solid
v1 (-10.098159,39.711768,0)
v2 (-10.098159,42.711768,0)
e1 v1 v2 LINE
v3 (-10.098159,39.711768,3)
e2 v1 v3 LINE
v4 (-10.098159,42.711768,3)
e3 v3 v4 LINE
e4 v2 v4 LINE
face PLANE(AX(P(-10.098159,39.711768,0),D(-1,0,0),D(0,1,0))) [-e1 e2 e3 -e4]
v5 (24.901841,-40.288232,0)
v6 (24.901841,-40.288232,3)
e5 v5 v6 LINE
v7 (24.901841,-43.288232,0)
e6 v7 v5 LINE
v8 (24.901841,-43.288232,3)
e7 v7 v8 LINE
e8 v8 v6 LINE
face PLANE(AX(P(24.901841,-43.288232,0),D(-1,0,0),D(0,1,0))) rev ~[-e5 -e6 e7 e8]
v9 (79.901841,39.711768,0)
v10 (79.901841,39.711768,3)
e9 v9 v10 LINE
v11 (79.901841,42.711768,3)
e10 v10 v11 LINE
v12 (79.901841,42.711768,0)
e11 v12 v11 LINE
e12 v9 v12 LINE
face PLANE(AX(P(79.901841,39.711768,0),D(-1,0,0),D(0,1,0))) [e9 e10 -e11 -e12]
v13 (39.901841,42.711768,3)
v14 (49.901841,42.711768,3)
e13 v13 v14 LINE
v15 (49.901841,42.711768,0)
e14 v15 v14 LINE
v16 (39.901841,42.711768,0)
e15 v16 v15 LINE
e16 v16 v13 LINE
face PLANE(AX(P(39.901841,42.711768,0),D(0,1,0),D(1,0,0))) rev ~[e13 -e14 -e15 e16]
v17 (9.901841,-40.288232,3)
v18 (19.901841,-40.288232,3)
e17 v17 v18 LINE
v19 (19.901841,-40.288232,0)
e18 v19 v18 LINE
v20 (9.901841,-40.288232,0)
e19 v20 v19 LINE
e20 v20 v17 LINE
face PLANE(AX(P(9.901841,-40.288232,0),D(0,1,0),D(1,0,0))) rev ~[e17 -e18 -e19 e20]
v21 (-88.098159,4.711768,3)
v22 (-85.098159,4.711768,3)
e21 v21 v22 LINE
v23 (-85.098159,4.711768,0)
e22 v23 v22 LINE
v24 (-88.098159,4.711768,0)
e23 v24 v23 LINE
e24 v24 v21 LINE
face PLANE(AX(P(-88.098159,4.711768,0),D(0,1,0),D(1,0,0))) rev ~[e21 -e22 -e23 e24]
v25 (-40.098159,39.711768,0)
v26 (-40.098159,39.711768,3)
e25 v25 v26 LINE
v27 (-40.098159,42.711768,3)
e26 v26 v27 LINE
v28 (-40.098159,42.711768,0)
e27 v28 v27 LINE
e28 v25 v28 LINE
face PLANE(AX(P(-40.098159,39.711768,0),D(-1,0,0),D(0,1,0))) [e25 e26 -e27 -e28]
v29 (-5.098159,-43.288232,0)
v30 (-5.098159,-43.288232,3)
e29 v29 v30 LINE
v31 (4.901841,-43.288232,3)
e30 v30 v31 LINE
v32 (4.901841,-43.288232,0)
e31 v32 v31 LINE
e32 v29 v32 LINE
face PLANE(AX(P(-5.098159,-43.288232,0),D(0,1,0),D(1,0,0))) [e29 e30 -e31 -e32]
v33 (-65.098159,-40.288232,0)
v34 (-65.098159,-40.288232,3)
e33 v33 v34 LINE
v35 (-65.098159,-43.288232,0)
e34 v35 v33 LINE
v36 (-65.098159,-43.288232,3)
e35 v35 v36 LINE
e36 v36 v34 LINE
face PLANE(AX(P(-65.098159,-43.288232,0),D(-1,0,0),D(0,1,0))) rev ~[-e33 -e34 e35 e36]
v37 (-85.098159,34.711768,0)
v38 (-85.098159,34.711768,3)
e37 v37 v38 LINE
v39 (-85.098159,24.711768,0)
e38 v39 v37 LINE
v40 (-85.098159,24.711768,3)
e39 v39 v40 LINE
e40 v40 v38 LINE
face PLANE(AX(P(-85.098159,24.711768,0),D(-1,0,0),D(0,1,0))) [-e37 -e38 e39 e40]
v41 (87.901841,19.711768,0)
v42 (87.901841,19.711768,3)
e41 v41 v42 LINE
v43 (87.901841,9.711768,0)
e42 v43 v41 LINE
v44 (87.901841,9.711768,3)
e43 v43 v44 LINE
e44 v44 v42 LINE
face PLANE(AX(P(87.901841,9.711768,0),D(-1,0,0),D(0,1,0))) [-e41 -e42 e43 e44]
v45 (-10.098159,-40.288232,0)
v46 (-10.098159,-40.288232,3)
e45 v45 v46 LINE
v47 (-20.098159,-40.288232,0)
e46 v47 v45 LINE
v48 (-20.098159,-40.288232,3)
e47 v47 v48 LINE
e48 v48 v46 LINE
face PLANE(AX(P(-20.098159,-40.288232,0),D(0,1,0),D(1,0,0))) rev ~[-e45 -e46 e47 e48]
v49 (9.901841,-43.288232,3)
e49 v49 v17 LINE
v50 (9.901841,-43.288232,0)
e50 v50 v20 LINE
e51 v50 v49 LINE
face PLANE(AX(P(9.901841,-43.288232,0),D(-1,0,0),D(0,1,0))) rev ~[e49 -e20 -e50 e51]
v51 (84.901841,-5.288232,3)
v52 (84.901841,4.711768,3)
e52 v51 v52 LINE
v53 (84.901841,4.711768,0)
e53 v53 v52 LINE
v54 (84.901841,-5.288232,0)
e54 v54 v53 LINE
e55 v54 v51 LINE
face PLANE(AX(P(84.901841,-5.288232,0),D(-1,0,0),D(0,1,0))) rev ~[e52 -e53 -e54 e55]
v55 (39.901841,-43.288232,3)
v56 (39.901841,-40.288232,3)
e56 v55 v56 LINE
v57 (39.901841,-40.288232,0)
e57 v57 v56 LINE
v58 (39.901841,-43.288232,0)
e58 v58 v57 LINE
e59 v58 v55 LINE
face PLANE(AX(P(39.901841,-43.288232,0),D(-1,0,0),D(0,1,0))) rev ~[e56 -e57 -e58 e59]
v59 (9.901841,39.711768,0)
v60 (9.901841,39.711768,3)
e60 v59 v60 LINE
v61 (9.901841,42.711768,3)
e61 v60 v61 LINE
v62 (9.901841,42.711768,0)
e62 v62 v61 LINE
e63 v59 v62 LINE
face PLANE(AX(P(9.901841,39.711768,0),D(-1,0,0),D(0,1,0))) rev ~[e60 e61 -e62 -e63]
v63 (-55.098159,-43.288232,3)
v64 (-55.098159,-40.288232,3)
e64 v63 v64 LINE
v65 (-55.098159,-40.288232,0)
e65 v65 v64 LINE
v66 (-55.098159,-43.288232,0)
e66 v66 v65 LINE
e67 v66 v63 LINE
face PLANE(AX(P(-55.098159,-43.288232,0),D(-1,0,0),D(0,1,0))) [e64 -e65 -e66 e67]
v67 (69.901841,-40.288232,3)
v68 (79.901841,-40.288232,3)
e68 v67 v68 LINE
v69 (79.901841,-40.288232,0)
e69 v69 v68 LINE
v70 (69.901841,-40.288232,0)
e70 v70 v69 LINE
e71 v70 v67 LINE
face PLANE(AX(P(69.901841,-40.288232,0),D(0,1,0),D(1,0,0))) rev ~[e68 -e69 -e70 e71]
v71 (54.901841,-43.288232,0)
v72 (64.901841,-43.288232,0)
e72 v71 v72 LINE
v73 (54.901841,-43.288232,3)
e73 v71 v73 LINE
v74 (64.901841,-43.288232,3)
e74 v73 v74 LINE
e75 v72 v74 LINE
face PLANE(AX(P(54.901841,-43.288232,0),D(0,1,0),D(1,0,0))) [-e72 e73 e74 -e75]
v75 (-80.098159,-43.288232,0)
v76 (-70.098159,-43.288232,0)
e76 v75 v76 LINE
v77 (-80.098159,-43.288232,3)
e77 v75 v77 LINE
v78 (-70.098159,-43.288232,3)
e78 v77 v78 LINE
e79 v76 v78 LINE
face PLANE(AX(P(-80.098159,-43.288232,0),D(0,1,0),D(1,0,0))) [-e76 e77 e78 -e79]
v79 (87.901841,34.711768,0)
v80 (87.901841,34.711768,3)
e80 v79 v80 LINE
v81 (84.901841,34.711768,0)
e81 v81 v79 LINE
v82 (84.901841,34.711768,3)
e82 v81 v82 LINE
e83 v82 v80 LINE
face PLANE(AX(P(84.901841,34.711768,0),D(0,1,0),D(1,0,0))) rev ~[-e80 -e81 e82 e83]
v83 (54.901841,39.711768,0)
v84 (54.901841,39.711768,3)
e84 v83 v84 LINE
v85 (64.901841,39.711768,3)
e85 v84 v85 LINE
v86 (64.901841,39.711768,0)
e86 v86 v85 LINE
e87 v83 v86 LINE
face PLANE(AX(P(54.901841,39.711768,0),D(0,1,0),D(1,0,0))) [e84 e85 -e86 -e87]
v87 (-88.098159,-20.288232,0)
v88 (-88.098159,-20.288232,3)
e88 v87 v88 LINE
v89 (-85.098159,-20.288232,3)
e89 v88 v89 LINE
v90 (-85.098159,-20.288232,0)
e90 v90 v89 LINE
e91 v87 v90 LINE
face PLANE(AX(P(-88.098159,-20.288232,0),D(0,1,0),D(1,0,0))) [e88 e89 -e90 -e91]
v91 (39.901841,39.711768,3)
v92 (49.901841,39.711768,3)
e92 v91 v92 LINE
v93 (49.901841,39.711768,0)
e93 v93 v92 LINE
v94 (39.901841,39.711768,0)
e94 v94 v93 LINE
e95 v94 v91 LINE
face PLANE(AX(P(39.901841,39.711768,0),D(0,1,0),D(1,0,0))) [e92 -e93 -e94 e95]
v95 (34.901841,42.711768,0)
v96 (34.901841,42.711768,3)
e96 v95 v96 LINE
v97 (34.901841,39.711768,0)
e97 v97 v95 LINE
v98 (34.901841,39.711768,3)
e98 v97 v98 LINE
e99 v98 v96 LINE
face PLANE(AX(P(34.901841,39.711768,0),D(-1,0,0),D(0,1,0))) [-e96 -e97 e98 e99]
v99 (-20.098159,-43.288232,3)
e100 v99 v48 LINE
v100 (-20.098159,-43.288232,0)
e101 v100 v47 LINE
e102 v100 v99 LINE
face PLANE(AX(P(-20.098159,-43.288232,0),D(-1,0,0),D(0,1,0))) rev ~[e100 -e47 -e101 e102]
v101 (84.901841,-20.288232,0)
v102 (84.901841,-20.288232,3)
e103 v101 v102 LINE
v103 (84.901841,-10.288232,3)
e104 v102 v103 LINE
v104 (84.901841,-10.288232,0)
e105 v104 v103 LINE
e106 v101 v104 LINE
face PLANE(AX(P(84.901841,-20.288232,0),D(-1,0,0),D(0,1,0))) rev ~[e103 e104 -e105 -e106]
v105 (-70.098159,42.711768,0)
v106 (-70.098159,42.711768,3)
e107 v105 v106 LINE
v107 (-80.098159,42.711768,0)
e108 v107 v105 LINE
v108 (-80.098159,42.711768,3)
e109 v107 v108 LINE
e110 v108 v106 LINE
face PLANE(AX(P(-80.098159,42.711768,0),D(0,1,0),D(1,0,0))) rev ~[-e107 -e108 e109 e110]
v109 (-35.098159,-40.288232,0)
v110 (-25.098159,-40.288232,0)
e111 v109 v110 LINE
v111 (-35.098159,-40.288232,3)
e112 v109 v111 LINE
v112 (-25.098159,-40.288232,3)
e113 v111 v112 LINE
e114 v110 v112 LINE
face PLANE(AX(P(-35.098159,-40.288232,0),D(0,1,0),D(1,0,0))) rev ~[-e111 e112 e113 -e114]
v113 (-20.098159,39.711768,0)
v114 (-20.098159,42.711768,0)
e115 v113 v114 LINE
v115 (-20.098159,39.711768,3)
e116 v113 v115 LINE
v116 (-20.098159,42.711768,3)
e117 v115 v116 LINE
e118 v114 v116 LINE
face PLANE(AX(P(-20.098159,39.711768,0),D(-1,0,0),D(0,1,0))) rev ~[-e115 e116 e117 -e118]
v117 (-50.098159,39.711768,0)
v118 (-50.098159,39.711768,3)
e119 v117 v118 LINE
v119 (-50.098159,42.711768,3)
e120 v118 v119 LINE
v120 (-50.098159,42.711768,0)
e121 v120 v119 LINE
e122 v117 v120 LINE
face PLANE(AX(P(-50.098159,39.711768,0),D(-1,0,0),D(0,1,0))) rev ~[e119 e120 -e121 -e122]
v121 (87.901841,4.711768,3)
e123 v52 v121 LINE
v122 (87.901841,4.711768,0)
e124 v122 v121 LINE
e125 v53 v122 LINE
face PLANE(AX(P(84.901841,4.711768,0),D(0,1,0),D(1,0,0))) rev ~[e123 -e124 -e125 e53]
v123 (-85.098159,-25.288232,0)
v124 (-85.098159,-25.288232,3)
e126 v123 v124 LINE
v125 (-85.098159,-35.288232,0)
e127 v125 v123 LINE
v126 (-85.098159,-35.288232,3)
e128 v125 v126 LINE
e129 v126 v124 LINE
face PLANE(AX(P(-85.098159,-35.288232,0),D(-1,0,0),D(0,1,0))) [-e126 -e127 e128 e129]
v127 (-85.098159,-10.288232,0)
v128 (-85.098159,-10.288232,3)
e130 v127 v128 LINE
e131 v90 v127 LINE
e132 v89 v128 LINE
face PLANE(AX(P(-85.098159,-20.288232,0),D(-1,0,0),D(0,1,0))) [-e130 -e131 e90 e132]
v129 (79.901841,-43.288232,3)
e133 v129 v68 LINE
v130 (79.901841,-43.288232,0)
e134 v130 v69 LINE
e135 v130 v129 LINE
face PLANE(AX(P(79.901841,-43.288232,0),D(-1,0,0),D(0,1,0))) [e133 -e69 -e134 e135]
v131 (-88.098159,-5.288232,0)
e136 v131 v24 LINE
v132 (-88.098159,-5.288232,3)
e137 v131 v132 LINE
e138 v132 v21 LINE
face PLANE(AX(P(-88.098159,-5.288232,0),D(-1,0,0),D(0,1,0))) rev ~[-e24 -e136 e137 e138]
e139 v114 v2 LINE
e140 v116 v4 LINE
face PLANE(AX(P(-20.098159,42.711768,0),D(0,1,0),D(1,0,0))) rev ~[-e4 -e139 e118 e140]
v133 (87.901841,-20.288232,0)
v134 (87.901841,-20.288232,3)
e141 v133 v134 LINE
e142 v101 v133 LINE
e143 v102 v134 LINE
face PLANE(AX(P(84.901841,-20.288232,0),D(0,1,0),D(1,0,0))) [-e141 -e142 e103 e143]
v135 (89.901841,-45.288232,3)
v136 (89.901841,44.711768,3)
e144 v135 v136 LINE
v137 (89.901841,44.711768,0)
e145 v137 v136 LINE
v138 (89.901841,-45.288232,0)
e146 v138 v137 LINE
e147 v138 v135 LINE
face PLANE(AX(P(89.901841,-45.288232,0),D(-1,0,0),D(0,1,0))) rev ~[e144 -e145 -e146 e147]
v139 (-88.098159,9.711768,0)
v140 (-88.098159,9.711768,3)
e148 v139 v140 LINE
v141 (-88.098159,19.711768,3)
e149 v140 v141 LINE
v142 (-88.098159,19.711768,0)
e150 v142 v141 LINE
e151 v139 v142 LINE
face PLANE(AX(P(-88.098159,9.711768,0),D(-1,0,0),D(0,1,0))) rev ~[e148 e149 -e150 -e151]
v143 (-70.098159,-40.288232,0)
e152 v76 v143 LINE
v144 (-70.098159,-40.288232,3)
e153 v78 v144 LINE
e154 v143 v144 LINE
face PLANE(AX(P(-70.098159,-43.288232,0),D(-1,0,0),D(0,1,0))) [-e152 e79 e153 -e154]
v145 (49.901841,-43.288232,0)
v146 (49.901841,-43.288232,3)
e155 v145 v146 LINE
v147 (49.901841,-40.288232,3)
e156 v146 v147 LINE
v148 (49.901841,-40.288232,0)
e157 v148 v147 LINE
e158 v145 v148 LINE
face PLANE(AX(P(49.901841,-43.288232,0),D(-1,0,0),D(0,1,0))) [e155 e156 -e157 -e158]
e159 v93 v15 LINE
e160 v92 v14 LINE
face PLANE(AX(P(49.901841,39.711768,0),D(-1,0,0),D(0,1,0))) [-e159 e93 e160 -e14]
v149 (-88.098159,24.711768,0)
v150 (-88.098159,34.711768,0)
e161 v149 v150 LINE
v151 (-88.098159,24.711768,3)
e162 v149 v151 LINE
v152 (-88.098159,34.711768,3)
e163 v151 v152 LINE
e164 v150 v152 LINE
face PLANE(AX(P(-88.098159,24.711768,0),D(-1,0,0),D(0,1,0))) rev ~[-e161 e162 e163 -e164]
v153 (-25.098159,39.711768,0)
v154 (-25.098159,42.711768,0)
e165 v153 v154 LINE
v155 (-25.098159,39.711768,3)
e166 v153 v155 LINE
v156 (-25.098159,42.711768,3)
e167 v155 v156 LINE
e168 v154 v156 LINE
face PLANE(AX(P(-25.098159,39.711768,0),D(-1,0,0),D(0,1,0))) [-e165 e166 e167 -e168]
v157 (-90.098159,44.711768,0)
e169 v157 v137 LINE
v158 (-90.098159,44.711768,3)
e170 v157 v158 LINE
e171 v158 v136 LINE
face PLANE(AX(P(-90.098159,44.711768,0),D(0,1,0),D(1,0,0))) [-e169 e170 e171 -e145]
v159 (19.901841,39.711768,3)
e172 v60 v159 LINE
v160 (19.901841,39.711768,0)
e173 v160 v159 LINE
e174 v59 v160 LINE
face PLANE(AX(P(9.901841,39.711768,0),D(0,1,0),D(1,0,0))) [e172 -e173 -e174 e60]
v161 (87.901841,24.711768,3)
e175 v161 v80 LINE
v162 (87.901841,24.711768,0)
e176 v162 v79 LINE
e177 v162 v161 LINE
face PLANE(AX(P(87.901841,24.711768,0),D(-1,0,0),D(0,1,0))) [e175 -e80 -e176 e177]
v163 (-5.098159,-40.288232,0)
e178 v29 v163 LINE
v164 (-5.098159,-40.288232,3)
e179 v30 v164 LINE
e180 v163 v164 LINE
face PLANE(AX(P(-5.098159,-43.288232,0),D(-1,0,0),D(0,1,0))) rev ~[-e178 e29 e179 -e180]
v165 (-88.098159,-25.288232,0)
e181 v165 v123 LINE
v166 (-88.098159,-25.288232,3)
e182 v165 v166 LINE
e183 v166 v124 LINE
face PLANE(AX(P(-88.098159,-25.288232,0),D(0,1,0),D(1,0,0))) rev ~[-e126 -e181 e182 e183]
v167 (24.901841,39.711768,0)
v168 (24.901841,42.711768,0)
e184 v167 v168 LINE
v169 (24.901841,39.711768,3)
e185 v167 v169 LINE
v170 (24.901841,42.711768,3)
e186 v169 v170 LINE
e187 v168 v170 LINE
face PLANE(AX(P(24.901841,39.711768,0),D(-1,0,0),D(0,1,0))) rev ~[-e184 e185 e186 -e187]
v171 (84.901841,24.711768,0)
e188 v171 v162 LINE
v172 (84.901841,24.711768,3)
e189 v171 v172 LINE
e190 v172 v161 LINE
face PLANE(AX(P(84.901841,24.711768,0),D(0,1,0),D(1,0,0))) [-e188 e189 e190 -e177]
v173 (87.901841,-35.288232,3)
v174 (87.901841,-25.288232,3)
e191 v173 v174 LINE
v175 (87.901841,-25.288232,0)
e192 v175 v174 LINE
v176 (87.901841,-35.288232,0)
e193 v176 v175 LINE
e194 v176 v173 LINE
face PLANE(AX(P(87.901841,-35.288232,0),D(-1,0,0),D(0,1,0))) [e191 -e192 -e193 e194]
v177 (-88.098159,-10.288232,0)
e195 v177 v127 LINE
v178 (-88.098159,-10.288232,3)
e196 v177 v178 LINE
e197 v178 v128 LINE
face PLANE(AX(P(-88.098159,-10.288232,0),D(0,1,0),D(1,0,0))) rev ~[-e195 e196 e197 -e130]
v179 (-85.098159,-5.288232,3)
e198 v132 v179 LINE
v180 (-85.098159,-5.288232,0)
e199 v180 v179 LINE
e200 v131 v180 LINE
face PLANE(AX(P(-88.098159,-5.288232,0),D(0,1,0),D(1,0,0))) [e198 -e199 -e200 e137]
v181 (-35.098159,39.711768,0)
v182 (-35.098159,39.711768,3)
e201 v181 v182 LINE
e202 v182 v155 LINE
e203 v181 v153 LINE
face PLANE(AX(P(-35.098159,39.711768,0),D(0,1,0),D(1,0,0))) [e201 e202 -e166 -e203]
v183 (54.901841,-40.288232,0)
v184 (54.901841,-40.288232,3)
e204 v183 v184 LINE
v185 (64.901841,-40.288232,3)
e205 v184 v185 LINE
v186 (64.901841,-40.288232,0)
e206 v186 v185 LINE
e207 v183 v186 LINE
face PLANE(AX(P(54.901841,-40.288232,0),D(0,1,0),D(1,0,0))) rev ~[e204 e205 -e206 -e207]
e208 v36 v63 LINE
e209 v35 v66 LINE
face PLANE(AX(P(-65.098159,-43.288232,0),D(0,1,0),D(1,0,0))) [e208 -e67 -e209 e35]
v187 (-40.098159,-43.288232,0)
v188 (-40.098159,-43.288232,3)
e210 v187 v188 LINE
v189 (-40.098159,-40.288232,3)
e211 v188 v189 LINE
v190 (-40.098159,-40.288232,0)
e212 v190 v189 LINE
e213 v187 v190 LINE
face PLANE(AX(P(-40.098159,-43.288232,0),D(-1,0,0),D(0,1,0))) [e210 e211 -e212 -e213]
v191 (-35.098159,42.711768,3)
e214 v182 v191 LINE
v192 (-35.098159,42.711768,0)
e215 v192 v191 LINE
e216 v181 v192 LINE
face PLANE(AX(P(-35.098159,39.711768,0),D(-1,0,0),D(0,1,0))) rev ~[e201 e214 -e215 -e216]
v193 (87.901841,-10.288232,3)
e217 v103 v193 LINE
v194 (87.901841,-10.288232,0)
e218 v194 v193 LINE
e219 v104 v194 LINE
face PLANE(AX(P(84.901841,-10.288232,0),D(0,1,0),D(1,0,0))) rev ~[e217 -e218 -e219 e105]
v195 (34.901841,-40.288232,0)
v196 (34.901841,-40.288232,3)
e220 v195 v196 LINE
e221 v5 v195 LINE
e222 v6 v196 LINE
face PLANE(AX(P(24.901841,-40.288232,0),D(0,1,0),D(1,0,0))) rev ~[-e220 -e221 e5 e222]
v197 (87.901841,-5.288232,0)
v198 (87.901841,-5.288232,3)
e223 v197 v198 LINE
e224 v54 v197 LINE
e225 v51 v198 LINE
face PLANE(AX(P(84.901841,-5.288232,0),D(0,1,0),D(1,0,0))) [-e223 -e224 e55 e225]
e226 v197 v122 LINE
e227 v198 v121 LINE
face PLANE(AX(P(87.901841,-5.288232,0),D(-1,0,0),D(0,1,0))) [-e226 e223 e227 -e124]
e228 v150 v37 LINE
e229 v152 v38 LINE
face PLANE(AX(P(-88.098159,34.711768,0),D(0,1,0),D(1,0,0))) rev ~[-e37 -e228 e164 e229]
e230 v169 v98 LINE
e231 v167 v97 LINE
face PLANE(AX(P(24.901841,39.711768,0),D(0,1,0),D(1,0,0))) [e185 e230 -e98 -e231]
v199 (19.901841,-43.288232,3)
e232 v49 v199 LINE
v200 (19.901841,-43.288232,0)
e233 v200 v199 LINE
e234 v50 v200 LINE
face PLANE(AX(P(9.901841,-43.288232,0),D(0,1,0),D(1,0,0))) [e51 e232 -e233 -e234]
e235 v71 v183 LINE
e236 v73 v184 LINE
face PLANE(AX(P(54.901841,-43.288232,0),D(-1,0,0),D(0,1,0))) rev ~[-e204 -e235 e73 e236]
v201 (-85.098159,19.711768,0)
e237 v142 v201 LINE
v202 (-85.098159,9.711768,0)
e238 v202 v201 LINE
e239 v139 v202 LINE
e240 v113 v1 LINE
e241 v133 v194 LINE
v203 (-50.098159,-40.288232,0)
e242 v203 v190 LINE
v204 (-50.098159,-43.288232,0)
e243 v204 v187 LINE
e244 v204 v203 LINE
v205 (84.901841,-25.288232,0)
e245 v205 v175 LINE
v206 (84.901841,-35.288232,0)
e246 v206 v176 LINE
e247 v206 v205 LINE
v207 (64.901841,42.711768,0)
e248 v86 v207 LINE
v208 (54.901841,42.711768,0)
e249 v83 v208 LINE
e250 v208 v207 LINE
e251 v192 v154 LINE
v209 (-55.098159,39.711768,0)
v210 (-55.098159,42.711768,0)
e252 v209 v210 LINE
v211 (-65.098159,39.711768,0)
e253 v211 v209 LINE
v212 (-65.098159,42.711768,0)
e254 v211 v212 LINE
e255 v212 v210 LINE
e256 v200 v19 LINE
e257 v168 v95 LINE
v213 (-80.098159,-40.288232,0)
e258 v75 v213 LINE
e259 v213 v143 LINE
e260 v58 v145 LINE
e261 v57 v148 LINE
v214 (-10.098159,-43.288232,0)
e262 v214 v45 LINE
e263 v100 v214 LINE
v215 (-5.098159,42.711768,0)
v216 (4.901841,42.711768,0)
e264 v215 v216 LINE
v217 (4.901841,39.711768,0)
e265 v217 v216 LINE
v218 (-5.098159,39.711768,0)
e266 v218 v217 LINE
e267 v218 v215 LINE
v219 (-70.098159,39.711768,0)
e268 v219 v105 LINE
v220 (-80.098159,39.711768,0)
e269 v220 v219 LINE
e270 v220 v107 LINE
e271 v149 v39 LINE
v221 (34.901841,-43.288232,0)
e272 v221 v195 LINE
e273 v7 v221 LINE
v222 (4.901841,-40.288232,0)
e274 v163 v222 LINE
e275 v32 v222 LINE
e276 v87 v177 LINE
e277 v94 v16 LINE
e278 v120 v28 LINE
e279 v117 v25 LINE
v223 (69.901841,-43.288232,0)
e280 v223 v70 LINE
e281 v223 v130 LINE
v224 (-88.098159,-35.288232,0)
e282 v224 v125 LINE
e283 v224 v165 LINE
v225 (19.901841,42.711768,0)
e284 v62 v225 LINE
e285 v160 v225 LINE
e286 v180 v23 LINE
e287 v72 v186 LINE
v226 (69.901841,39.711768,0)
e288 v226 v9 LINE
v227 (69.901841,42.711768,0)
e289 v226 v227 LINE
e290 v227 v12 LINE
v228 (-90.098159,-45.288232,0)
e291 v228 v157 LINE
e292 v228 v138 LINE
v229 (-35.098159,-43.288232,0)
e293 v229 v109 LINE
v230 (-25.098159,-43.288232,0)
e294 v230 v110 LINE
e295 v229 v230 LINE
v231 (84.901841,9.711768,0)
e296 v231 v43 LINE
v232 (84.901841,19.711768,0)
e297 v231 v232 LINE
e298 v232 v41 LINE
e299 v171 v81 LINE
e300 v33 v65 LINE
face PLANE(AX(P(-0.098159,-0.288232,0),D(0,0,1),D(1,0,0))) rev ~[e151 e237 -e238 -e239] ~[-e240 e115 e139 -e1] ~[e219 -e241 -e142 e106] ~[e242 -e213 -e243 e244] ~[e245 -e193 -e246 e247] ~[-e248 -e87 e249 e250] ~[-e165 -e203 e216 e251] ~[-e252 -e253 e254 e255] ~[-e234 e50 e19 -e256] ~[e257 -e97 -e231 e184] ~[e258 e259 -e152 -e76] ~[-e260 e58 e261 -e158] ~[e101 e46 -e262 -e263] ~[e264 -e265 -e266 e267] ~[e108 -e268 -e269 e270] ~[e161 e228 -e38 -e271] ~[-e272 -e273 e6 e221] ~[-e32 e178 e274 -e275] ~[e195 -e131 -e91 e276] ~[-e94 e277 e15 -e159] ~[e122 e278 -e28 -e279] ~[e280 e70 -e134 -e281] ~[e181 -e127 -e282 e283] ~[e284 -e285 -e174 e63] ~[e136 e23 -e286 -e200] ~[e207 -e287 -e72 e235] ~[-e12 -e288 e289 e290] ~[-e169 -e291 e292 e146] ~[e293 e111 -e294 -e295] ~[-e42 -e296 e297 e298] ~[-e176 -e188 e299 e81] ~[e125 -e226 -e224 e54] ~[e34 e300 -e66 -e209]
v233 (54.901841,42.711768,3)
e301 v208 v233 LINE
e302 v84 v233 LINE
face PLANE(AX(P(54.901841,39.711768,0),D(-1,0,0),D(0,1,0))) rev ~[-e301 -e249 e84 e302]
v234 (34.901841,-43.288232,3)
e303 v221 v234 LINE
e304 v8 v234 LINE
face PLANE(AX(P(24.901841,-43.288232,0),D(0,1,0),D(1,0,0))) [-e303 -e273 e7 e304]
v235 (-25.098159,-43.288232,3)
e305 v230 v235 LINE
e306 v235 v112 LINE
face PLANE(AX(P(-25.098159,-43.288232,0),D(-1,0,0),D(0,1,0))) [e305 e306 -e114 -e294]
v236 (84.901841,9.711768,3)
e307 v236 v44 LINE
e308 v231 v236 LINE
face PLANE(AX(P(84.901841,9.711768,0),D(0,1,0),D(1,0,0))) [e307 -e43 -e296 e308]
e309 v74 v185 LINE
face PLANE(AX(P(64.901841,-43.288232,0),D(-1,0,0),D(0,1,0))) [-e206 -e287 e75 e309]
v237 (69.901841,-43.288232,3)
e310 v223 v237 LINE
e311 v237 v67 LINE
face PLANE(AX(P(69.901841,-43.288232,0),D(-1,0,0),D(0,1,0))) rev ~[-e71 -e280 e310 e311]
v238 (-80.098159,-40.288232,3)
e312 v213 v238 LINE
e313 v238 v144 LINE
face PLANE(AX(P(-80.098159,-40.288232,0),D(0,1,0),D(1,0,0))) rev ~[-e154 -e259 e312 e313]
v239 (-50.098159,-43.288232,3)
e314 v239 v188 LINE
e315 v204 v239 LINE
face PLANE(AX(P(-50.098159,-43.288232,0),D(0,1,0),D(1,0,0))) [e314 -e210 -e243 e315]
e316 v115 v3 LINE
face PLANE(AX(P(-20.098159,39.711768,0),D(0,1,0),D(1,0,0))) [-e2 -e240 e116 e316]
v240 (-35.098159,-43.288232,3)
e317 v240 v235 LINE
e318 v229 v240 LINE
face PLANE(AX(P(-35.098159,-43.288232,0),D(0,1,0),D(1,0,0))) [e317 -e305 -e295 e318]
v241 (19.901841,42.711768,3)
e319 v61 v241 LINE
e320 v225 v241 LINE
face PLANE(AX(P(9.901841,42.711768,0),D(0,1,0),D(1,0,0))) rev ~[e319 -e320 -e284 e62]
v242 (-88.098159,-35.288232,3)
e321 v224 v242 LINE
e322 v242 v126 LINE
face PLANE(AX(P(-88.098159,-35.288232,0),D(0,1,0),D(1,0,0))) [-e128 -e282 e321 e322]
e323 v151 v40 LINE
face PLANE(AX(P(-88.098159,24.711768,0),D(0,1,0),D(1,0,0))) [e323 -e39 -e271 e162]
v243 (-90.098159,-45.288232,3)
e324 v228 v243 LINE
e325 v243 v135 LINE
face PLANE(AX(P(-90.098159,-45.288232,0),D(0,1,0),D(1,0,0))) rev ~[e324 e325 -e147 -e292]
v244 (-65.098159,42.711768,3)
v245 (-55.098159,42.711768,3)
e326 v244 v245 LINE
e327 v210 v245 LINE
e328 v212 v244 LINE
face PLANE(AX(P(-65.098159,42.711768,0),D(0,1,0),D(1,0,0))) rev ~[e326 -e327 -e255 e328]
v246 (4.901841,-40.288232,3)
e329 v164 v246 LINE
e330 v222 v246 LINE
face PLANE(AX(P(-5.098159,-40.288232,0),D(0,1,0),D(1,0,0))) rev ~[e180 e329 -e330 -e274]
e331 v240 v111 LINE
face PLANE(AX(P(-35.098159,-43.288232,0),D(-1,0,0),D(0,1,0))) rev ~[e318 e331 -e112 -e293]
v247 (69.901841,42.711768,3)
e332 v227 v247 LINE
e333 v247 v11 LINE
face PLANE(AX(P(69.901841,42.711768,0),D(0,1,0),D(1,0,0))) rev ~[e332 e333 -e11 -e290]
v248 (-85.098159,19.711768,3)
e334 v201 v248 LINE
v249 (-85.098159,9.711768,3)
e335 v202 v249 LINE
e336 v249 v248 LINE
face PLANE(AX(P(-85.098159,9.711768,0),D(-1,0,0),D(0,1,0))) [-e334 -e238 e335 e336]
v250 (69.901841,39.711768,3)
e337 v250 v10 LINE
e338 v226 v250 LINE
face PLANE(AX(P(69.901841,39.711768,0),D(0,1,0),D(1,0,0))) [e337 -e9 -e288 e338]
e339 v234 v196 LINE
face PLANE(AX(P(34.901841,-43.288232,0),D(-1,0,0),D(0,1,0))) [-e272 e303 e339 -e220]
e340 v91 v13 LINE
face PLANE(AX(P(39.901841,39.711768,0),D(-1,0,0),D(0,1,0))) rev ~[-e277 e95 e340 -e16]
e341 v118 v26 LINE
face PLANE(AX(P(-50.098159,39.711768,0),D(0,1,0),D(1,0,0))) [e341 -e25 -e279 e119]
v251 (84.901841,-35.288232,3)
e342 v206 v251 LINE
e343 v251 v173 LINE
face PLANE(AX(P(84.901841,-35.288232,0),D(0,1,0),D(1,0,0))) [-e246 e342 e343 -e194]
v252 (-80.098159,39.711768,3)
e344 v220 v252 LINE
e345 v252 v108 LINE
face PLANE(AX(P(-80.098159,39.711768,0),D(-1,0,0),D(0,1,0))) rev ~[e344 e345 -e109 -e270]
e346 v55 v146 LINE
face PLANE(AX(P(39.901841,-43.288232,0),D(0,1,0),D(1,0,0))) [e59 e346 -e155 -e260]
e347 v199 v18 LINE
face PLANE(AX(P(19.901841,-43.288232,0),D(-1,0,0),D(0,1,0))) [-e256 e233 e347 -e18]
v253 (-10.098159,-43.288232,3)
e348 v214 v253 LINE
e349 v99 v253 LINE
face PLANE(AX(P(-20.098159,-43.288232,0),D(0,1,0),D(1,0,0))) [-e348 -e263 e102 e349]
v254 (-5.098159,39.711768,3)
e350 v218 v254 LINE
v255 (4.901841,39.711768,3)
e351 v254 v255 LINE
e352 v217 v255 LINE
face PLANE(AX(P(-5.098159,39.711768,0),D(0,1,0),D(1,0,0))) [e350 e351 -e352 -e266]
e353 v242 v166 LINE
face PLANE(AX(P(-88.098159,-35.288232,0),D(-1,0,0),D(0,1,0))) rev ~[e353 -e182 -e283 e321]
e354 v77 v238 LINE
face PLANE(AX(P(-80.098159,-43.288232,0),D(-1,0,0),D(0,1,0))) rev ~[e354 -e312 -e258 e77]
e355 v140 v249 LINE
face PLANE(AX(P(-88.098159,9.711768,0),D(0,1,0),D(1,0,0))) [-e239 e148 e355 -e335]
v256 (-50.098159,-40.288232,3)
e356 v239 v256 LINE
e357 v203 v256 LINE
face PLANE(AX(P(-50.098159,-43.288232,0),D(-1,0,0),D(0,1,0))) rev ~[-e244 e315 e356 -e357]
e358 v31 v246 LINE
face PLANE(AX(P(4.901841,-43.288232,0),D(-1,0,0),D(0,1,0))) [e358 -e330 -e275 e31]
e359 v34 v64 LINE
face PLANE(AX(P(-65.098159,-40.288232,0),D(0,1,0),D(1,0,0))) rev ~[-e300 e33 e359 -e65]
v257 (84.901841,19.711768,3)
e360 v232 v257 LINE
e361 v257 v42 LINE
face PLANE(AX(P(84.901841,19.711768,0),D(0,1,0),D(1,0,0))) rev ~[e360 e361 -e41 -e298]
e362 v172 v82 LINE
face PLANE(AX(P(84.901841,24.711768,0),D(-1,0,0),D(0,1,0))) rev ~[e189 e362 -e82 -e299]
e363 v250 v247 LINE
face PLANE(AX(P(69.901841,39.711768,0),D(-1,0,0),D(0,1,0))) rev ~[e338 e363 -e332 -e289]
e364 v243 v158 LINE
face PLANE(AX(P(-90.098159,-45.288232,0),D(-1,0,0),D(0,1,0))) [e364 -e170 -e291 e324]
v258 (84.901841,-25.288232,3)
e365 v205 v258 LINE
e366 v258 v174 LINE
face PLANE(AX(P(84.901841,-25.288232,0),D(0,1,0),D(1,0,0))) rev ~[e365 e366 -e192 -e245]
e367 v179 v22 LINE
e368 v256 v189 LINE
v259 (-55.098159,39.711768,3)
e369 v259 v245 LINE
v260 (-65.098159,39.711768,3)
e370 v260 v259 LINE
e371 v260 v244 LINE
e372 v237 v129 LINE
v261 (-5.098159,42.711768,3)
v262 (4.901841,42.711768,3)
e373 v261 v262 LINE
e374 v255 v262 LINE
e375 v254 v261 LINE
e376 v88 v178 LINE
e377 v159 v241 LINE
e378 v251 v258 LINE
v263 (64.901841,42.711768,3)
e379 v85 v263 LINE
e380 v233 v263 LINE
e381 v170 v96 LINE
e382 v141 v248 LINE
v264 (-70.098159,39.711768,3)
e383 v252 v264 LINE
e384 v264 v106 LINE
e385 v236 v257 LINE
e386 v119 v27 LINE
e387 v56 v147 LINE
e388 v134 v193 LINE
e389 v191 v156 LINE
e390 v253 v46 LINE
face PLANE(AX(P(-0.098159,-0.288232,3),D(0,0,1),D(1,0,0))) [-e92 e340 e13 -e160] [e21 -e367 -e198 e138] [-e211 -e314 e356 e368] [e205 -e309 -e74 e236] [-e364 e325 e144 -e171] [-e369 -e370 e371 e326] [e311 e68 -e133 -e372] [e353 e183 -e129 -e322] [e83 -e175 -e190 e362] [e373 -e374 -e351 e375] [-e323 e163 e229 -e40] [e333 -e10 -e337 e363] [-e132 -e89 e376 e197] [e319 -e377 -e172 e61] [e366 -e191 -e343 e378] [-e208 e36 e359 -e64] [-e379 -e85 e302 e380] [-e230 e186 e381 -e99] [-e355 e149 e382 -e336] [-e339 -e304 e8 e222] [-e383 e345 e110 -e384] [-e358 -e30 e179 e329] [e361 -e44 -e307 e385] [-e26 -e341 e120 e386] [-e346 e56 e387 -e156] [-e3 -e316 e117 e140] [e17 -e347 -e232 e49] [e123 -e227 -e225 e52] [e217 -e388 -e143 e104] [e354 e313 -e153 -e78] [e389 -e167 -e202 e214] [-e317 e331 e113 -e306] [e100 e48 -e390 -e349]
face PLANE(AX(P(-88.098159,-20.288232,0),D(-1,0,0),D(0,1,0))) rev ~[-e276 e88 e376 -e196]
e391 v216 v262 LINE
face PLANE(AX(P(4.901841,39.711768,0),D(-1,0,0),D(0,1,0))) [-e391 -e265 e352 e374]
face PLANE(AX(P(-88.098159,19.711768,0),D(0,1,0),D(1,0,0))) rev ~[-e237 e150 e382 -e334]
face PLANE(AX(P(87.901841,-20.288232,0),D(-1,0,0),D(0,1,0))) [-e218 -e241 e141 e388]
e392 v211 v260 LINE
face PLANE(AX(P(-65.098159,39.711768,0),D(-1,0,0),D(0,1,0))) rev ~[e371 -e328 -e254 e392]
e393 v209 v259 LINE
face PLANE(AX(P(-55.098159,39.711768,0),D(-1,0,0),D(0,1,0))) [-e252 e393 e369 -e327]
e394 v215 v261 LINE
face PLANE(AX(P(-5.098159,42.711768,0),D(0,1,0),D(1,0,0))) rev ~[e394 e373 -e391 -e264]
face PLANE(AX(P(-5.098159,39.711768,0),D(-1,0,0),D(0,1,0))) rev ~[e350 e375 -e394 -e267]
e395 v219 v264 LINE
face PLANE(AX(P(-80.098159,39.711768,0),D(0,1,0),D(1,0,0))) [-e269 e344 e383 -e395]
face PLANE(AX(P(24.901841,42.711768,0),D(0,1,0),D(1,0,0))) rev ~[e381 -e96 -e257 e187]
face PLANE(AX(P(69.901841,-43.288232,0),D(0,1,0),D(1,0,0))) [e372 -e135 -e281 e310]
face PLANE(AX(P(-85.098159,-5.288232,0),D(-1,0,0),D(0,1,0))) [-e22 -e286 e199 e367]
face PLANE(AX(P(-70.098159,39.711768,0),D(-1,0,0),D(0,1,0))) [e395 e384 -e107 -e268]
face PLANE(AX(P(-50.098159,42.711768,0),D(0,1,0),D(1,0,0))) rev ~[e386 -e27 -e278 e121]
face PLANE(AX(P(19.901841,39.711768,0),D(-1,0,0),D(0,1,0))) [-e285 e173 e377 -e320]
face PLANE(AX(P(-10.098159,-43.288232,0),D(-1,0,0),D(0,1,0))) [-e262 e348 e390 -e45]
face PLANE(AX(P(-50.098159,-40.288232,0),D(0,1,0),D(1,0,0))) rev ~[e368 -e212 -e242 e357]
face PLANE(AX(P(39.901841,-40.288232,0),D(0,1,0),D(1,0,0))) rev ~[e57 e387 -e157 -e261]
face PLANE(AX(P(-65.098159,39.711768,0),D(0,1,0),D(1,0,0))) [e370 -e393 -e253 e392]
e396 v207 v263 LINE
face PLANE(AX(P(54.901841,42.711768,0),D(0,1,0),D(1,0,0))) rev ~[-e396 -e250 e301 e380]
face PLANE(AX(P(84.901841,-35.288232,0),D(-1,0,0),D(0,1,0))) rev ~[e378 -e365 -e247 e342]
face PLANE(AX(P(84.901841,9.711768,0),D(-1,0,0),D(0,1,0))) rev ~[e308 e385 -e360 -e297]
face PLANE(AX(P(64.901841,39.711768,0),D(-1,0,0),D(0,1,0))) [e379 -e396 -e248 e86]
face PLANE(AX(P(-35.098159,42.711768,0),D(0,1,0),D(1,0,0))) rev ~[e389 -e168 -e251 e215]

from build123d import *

# Parameters (mm, degrees)
SKETCH_1_W      = 180
SKETCH_1_H      = 90
SKETCH_1_W_2    = 10
SKETCH_1_H_2    = 3
SKETCH_1_W_3    = 3
SKETCH_1_H_3    = 10
EXTRUDE_1_DEPTH = 3


with BuildPart() as part:
    # 草图1 → 凸台-拉伸1 (new body)
    with BuildSketch(Plane.XY):
        with Locations((-0.098158541, -0.288232222)):
            Rectangle(SKETCH_1_W, SKETCH_1_H)
        with Locations((-75.098158541, 41.211767778)):
            Rectangle(SKETCH_1_W_2, SKETCH_1_H_2, mode=Mode.SUBTRACT)
        with Locations((-86.598158541, 29.711767778)):
            Rectangle(SKETCH_1_W_3, SKETCH_1_H_3, mode=Mode.SUBTRACT)
        with Locations((-86.598158541, 14.711767778)):
            Rectangle(SKETCH_1_W_3, SKETCH_1_H_3, mode=Mode.SUBTRACT)
        with Locations((-86.598158541, -0.288232222)):
            Rectangle(SKETCH_1_W_3, SKETCH_1_H_3, mode=Mode.SUBTRACT)
        with Locations((-86.598158541, -15.288232222)):
            Rectangle(SKETCH_1_W_3, SKETCH_1_H_3, mode=Mode.SUBTRACT)
        with Locations((-86.598158541, -30.288232222)):
            Rectangle(SKETCH_1_W_3, SKETCH_1_H_3, mode=Mode.SUBTRACT)
        with Locations((86.401841459, -30.288232222)):
            Rectangle(SKETCH_1_W_3, SKETCH_1_H_3, mode=Mode.SUBTRACT)
        with Locations((86.401841459, -15.288232222)):
            Rectangle(SKETCH_1_W_3, SKETCH_1_H_3, mode=Mode.SUBTRACT)
        with Locations((86.401841459, -0.288232222)):
            Rectangle(SKETCH_1_W_3, SKETCH_1_H_3, mode=Mode.SUBTRACT)
        with Locations((86.401841459, 14.711767778)):
            Rectangle(SKETCH_1_W_3, SKETCH_1_H_3, mode=Mode.SUBTRACT)
        with Locations((86.401841459, 29.711767778)):
            Rectangle(SKETCH_1_W_3, SKETCH_1_H_3, mode=Mode.SUBTRACT)
        with Locations((-60.098158541, 41.211767778)):
            Rectangle(SKETCH_1_W_2, SKETCH_1_H_2, mode=Mode.SUBTRACT)
        with Locations((-45.098158541, 41.211767778)):
            Rectangle(SKETCH_1_W_2, SKETCH_1_H_2, mode=Mode.SUBTRACT)
        with Locations((-30.098158541, 41.211767778)):
            Rectangle(SKETCH_1_W_2, SKETCH_1_H_2, mode=Mode.SUBTRACT)
        with Locations((-15.098158541, 41.211767778)):
            Rectangle(SKETCH_1_W_2, SKETCH_1_H_2, mode=Mode.SUBTRACT)
        with Locations((-0.098158541, 41.211767778)):
            Rectangle(SKETCH_1_W_2, SKETCH_1_H_2, mode=Mode.SUBTRACT)
        with Locations((14.901841459, 41.211767778)):
            Rectangle(SKETCH_1_W_2, SKETCH_1_H_2, mode=Mode.SUBTRACT)
        with Locations((29.901841459, 41.211767778)):
            Rectangle(SKETCH_1_W_2, SKETCH_1_H_2, mode=Mode.SUBTRACT)
        with Locations((44.901841459, 41.211767778)):
            Rectangle(SKETCH_1_W_2, SKETCH_1_H_2, mode=Mode.SUBTRACT)
        with Locations((59.901841459, 41.211767778)):
            Rectangle(SKETCH_1_W_2, SKETCH_1_H_2, mode=Mode.SUBTRACT)
        with Locations((74.901841459, 41.211767778)):
            Rectangle(SKETCH_1_W_2, SKETCH_1_H_2, mode=Mode.SUBTRACT)
        with Locations((74.901841459, -41.788232222)):
            Rectangle(SKETCH_1_W_2, SKETCH_1_H_2, mode=Mode.SUBTRACT)
        with Locations((59.901841459, -41.788232222)):
            Rectangle(SKETCH_1_W_2, SKETCH_1_H_2, mode=Mode.SUBTRACT)
        with Locations((44.901841459, -41.788232222)):
            Rectangle(SKETCH_1_W_2, SKETCH_1_H_2, mode=Mode.SUBTRACT)
        with Locations((29.901841459, -41.788232222)):
            Rectangle(SKETCH_1_W_2, SKETCH_1_H_2, mode=Mode.SUBTRACT)
        with Locations((14.901841459, -41.788232222)):
            Rectangle(SKETCH_1_W_2, SKETCH_1_H_2, mode=Mode.SUBTRACT)
        with Locations((-0.098158541, -41.788232222)):
            Rectangle(SKETCH_1_W_2, SKETCH_1_H_2, mode=Mode.SUBTRACT)
        with Locations((-15.098158541, -41.788232222)):
            Rectangle(SKETCH_1_W_2, SKETCH_1_H_2, mode=Mode.SUBTRACT)
        with Locations((-30.098158541, -41.788232222)):
            Rectangle(SKETCH_1_W_2, SKETCH_1_H_2, mode=Mode.SUBTRACT)
        with Locations((-45.098158541, -41.788232222)):
            Rectangle(SKETCH_1_W_2, SKETCH_1_H_2, mode=Mode.SUBTRACT)
        with Locations((-60.098158541, -41.788232222)):
            Rectangle(SKETCH_1_W_2, SKETCH_1_H_2, mode=Mode.SUBTRACT)
        with Locations((-75.098158541, -41.788232222)):
            Rectangle(SKETCH_1_W_2, SKETCH_1_H_2, mode=Mode.SUBTRACT)
    extrude(amount=EXTRUDE_1_DEPTH)


solid = part.part
